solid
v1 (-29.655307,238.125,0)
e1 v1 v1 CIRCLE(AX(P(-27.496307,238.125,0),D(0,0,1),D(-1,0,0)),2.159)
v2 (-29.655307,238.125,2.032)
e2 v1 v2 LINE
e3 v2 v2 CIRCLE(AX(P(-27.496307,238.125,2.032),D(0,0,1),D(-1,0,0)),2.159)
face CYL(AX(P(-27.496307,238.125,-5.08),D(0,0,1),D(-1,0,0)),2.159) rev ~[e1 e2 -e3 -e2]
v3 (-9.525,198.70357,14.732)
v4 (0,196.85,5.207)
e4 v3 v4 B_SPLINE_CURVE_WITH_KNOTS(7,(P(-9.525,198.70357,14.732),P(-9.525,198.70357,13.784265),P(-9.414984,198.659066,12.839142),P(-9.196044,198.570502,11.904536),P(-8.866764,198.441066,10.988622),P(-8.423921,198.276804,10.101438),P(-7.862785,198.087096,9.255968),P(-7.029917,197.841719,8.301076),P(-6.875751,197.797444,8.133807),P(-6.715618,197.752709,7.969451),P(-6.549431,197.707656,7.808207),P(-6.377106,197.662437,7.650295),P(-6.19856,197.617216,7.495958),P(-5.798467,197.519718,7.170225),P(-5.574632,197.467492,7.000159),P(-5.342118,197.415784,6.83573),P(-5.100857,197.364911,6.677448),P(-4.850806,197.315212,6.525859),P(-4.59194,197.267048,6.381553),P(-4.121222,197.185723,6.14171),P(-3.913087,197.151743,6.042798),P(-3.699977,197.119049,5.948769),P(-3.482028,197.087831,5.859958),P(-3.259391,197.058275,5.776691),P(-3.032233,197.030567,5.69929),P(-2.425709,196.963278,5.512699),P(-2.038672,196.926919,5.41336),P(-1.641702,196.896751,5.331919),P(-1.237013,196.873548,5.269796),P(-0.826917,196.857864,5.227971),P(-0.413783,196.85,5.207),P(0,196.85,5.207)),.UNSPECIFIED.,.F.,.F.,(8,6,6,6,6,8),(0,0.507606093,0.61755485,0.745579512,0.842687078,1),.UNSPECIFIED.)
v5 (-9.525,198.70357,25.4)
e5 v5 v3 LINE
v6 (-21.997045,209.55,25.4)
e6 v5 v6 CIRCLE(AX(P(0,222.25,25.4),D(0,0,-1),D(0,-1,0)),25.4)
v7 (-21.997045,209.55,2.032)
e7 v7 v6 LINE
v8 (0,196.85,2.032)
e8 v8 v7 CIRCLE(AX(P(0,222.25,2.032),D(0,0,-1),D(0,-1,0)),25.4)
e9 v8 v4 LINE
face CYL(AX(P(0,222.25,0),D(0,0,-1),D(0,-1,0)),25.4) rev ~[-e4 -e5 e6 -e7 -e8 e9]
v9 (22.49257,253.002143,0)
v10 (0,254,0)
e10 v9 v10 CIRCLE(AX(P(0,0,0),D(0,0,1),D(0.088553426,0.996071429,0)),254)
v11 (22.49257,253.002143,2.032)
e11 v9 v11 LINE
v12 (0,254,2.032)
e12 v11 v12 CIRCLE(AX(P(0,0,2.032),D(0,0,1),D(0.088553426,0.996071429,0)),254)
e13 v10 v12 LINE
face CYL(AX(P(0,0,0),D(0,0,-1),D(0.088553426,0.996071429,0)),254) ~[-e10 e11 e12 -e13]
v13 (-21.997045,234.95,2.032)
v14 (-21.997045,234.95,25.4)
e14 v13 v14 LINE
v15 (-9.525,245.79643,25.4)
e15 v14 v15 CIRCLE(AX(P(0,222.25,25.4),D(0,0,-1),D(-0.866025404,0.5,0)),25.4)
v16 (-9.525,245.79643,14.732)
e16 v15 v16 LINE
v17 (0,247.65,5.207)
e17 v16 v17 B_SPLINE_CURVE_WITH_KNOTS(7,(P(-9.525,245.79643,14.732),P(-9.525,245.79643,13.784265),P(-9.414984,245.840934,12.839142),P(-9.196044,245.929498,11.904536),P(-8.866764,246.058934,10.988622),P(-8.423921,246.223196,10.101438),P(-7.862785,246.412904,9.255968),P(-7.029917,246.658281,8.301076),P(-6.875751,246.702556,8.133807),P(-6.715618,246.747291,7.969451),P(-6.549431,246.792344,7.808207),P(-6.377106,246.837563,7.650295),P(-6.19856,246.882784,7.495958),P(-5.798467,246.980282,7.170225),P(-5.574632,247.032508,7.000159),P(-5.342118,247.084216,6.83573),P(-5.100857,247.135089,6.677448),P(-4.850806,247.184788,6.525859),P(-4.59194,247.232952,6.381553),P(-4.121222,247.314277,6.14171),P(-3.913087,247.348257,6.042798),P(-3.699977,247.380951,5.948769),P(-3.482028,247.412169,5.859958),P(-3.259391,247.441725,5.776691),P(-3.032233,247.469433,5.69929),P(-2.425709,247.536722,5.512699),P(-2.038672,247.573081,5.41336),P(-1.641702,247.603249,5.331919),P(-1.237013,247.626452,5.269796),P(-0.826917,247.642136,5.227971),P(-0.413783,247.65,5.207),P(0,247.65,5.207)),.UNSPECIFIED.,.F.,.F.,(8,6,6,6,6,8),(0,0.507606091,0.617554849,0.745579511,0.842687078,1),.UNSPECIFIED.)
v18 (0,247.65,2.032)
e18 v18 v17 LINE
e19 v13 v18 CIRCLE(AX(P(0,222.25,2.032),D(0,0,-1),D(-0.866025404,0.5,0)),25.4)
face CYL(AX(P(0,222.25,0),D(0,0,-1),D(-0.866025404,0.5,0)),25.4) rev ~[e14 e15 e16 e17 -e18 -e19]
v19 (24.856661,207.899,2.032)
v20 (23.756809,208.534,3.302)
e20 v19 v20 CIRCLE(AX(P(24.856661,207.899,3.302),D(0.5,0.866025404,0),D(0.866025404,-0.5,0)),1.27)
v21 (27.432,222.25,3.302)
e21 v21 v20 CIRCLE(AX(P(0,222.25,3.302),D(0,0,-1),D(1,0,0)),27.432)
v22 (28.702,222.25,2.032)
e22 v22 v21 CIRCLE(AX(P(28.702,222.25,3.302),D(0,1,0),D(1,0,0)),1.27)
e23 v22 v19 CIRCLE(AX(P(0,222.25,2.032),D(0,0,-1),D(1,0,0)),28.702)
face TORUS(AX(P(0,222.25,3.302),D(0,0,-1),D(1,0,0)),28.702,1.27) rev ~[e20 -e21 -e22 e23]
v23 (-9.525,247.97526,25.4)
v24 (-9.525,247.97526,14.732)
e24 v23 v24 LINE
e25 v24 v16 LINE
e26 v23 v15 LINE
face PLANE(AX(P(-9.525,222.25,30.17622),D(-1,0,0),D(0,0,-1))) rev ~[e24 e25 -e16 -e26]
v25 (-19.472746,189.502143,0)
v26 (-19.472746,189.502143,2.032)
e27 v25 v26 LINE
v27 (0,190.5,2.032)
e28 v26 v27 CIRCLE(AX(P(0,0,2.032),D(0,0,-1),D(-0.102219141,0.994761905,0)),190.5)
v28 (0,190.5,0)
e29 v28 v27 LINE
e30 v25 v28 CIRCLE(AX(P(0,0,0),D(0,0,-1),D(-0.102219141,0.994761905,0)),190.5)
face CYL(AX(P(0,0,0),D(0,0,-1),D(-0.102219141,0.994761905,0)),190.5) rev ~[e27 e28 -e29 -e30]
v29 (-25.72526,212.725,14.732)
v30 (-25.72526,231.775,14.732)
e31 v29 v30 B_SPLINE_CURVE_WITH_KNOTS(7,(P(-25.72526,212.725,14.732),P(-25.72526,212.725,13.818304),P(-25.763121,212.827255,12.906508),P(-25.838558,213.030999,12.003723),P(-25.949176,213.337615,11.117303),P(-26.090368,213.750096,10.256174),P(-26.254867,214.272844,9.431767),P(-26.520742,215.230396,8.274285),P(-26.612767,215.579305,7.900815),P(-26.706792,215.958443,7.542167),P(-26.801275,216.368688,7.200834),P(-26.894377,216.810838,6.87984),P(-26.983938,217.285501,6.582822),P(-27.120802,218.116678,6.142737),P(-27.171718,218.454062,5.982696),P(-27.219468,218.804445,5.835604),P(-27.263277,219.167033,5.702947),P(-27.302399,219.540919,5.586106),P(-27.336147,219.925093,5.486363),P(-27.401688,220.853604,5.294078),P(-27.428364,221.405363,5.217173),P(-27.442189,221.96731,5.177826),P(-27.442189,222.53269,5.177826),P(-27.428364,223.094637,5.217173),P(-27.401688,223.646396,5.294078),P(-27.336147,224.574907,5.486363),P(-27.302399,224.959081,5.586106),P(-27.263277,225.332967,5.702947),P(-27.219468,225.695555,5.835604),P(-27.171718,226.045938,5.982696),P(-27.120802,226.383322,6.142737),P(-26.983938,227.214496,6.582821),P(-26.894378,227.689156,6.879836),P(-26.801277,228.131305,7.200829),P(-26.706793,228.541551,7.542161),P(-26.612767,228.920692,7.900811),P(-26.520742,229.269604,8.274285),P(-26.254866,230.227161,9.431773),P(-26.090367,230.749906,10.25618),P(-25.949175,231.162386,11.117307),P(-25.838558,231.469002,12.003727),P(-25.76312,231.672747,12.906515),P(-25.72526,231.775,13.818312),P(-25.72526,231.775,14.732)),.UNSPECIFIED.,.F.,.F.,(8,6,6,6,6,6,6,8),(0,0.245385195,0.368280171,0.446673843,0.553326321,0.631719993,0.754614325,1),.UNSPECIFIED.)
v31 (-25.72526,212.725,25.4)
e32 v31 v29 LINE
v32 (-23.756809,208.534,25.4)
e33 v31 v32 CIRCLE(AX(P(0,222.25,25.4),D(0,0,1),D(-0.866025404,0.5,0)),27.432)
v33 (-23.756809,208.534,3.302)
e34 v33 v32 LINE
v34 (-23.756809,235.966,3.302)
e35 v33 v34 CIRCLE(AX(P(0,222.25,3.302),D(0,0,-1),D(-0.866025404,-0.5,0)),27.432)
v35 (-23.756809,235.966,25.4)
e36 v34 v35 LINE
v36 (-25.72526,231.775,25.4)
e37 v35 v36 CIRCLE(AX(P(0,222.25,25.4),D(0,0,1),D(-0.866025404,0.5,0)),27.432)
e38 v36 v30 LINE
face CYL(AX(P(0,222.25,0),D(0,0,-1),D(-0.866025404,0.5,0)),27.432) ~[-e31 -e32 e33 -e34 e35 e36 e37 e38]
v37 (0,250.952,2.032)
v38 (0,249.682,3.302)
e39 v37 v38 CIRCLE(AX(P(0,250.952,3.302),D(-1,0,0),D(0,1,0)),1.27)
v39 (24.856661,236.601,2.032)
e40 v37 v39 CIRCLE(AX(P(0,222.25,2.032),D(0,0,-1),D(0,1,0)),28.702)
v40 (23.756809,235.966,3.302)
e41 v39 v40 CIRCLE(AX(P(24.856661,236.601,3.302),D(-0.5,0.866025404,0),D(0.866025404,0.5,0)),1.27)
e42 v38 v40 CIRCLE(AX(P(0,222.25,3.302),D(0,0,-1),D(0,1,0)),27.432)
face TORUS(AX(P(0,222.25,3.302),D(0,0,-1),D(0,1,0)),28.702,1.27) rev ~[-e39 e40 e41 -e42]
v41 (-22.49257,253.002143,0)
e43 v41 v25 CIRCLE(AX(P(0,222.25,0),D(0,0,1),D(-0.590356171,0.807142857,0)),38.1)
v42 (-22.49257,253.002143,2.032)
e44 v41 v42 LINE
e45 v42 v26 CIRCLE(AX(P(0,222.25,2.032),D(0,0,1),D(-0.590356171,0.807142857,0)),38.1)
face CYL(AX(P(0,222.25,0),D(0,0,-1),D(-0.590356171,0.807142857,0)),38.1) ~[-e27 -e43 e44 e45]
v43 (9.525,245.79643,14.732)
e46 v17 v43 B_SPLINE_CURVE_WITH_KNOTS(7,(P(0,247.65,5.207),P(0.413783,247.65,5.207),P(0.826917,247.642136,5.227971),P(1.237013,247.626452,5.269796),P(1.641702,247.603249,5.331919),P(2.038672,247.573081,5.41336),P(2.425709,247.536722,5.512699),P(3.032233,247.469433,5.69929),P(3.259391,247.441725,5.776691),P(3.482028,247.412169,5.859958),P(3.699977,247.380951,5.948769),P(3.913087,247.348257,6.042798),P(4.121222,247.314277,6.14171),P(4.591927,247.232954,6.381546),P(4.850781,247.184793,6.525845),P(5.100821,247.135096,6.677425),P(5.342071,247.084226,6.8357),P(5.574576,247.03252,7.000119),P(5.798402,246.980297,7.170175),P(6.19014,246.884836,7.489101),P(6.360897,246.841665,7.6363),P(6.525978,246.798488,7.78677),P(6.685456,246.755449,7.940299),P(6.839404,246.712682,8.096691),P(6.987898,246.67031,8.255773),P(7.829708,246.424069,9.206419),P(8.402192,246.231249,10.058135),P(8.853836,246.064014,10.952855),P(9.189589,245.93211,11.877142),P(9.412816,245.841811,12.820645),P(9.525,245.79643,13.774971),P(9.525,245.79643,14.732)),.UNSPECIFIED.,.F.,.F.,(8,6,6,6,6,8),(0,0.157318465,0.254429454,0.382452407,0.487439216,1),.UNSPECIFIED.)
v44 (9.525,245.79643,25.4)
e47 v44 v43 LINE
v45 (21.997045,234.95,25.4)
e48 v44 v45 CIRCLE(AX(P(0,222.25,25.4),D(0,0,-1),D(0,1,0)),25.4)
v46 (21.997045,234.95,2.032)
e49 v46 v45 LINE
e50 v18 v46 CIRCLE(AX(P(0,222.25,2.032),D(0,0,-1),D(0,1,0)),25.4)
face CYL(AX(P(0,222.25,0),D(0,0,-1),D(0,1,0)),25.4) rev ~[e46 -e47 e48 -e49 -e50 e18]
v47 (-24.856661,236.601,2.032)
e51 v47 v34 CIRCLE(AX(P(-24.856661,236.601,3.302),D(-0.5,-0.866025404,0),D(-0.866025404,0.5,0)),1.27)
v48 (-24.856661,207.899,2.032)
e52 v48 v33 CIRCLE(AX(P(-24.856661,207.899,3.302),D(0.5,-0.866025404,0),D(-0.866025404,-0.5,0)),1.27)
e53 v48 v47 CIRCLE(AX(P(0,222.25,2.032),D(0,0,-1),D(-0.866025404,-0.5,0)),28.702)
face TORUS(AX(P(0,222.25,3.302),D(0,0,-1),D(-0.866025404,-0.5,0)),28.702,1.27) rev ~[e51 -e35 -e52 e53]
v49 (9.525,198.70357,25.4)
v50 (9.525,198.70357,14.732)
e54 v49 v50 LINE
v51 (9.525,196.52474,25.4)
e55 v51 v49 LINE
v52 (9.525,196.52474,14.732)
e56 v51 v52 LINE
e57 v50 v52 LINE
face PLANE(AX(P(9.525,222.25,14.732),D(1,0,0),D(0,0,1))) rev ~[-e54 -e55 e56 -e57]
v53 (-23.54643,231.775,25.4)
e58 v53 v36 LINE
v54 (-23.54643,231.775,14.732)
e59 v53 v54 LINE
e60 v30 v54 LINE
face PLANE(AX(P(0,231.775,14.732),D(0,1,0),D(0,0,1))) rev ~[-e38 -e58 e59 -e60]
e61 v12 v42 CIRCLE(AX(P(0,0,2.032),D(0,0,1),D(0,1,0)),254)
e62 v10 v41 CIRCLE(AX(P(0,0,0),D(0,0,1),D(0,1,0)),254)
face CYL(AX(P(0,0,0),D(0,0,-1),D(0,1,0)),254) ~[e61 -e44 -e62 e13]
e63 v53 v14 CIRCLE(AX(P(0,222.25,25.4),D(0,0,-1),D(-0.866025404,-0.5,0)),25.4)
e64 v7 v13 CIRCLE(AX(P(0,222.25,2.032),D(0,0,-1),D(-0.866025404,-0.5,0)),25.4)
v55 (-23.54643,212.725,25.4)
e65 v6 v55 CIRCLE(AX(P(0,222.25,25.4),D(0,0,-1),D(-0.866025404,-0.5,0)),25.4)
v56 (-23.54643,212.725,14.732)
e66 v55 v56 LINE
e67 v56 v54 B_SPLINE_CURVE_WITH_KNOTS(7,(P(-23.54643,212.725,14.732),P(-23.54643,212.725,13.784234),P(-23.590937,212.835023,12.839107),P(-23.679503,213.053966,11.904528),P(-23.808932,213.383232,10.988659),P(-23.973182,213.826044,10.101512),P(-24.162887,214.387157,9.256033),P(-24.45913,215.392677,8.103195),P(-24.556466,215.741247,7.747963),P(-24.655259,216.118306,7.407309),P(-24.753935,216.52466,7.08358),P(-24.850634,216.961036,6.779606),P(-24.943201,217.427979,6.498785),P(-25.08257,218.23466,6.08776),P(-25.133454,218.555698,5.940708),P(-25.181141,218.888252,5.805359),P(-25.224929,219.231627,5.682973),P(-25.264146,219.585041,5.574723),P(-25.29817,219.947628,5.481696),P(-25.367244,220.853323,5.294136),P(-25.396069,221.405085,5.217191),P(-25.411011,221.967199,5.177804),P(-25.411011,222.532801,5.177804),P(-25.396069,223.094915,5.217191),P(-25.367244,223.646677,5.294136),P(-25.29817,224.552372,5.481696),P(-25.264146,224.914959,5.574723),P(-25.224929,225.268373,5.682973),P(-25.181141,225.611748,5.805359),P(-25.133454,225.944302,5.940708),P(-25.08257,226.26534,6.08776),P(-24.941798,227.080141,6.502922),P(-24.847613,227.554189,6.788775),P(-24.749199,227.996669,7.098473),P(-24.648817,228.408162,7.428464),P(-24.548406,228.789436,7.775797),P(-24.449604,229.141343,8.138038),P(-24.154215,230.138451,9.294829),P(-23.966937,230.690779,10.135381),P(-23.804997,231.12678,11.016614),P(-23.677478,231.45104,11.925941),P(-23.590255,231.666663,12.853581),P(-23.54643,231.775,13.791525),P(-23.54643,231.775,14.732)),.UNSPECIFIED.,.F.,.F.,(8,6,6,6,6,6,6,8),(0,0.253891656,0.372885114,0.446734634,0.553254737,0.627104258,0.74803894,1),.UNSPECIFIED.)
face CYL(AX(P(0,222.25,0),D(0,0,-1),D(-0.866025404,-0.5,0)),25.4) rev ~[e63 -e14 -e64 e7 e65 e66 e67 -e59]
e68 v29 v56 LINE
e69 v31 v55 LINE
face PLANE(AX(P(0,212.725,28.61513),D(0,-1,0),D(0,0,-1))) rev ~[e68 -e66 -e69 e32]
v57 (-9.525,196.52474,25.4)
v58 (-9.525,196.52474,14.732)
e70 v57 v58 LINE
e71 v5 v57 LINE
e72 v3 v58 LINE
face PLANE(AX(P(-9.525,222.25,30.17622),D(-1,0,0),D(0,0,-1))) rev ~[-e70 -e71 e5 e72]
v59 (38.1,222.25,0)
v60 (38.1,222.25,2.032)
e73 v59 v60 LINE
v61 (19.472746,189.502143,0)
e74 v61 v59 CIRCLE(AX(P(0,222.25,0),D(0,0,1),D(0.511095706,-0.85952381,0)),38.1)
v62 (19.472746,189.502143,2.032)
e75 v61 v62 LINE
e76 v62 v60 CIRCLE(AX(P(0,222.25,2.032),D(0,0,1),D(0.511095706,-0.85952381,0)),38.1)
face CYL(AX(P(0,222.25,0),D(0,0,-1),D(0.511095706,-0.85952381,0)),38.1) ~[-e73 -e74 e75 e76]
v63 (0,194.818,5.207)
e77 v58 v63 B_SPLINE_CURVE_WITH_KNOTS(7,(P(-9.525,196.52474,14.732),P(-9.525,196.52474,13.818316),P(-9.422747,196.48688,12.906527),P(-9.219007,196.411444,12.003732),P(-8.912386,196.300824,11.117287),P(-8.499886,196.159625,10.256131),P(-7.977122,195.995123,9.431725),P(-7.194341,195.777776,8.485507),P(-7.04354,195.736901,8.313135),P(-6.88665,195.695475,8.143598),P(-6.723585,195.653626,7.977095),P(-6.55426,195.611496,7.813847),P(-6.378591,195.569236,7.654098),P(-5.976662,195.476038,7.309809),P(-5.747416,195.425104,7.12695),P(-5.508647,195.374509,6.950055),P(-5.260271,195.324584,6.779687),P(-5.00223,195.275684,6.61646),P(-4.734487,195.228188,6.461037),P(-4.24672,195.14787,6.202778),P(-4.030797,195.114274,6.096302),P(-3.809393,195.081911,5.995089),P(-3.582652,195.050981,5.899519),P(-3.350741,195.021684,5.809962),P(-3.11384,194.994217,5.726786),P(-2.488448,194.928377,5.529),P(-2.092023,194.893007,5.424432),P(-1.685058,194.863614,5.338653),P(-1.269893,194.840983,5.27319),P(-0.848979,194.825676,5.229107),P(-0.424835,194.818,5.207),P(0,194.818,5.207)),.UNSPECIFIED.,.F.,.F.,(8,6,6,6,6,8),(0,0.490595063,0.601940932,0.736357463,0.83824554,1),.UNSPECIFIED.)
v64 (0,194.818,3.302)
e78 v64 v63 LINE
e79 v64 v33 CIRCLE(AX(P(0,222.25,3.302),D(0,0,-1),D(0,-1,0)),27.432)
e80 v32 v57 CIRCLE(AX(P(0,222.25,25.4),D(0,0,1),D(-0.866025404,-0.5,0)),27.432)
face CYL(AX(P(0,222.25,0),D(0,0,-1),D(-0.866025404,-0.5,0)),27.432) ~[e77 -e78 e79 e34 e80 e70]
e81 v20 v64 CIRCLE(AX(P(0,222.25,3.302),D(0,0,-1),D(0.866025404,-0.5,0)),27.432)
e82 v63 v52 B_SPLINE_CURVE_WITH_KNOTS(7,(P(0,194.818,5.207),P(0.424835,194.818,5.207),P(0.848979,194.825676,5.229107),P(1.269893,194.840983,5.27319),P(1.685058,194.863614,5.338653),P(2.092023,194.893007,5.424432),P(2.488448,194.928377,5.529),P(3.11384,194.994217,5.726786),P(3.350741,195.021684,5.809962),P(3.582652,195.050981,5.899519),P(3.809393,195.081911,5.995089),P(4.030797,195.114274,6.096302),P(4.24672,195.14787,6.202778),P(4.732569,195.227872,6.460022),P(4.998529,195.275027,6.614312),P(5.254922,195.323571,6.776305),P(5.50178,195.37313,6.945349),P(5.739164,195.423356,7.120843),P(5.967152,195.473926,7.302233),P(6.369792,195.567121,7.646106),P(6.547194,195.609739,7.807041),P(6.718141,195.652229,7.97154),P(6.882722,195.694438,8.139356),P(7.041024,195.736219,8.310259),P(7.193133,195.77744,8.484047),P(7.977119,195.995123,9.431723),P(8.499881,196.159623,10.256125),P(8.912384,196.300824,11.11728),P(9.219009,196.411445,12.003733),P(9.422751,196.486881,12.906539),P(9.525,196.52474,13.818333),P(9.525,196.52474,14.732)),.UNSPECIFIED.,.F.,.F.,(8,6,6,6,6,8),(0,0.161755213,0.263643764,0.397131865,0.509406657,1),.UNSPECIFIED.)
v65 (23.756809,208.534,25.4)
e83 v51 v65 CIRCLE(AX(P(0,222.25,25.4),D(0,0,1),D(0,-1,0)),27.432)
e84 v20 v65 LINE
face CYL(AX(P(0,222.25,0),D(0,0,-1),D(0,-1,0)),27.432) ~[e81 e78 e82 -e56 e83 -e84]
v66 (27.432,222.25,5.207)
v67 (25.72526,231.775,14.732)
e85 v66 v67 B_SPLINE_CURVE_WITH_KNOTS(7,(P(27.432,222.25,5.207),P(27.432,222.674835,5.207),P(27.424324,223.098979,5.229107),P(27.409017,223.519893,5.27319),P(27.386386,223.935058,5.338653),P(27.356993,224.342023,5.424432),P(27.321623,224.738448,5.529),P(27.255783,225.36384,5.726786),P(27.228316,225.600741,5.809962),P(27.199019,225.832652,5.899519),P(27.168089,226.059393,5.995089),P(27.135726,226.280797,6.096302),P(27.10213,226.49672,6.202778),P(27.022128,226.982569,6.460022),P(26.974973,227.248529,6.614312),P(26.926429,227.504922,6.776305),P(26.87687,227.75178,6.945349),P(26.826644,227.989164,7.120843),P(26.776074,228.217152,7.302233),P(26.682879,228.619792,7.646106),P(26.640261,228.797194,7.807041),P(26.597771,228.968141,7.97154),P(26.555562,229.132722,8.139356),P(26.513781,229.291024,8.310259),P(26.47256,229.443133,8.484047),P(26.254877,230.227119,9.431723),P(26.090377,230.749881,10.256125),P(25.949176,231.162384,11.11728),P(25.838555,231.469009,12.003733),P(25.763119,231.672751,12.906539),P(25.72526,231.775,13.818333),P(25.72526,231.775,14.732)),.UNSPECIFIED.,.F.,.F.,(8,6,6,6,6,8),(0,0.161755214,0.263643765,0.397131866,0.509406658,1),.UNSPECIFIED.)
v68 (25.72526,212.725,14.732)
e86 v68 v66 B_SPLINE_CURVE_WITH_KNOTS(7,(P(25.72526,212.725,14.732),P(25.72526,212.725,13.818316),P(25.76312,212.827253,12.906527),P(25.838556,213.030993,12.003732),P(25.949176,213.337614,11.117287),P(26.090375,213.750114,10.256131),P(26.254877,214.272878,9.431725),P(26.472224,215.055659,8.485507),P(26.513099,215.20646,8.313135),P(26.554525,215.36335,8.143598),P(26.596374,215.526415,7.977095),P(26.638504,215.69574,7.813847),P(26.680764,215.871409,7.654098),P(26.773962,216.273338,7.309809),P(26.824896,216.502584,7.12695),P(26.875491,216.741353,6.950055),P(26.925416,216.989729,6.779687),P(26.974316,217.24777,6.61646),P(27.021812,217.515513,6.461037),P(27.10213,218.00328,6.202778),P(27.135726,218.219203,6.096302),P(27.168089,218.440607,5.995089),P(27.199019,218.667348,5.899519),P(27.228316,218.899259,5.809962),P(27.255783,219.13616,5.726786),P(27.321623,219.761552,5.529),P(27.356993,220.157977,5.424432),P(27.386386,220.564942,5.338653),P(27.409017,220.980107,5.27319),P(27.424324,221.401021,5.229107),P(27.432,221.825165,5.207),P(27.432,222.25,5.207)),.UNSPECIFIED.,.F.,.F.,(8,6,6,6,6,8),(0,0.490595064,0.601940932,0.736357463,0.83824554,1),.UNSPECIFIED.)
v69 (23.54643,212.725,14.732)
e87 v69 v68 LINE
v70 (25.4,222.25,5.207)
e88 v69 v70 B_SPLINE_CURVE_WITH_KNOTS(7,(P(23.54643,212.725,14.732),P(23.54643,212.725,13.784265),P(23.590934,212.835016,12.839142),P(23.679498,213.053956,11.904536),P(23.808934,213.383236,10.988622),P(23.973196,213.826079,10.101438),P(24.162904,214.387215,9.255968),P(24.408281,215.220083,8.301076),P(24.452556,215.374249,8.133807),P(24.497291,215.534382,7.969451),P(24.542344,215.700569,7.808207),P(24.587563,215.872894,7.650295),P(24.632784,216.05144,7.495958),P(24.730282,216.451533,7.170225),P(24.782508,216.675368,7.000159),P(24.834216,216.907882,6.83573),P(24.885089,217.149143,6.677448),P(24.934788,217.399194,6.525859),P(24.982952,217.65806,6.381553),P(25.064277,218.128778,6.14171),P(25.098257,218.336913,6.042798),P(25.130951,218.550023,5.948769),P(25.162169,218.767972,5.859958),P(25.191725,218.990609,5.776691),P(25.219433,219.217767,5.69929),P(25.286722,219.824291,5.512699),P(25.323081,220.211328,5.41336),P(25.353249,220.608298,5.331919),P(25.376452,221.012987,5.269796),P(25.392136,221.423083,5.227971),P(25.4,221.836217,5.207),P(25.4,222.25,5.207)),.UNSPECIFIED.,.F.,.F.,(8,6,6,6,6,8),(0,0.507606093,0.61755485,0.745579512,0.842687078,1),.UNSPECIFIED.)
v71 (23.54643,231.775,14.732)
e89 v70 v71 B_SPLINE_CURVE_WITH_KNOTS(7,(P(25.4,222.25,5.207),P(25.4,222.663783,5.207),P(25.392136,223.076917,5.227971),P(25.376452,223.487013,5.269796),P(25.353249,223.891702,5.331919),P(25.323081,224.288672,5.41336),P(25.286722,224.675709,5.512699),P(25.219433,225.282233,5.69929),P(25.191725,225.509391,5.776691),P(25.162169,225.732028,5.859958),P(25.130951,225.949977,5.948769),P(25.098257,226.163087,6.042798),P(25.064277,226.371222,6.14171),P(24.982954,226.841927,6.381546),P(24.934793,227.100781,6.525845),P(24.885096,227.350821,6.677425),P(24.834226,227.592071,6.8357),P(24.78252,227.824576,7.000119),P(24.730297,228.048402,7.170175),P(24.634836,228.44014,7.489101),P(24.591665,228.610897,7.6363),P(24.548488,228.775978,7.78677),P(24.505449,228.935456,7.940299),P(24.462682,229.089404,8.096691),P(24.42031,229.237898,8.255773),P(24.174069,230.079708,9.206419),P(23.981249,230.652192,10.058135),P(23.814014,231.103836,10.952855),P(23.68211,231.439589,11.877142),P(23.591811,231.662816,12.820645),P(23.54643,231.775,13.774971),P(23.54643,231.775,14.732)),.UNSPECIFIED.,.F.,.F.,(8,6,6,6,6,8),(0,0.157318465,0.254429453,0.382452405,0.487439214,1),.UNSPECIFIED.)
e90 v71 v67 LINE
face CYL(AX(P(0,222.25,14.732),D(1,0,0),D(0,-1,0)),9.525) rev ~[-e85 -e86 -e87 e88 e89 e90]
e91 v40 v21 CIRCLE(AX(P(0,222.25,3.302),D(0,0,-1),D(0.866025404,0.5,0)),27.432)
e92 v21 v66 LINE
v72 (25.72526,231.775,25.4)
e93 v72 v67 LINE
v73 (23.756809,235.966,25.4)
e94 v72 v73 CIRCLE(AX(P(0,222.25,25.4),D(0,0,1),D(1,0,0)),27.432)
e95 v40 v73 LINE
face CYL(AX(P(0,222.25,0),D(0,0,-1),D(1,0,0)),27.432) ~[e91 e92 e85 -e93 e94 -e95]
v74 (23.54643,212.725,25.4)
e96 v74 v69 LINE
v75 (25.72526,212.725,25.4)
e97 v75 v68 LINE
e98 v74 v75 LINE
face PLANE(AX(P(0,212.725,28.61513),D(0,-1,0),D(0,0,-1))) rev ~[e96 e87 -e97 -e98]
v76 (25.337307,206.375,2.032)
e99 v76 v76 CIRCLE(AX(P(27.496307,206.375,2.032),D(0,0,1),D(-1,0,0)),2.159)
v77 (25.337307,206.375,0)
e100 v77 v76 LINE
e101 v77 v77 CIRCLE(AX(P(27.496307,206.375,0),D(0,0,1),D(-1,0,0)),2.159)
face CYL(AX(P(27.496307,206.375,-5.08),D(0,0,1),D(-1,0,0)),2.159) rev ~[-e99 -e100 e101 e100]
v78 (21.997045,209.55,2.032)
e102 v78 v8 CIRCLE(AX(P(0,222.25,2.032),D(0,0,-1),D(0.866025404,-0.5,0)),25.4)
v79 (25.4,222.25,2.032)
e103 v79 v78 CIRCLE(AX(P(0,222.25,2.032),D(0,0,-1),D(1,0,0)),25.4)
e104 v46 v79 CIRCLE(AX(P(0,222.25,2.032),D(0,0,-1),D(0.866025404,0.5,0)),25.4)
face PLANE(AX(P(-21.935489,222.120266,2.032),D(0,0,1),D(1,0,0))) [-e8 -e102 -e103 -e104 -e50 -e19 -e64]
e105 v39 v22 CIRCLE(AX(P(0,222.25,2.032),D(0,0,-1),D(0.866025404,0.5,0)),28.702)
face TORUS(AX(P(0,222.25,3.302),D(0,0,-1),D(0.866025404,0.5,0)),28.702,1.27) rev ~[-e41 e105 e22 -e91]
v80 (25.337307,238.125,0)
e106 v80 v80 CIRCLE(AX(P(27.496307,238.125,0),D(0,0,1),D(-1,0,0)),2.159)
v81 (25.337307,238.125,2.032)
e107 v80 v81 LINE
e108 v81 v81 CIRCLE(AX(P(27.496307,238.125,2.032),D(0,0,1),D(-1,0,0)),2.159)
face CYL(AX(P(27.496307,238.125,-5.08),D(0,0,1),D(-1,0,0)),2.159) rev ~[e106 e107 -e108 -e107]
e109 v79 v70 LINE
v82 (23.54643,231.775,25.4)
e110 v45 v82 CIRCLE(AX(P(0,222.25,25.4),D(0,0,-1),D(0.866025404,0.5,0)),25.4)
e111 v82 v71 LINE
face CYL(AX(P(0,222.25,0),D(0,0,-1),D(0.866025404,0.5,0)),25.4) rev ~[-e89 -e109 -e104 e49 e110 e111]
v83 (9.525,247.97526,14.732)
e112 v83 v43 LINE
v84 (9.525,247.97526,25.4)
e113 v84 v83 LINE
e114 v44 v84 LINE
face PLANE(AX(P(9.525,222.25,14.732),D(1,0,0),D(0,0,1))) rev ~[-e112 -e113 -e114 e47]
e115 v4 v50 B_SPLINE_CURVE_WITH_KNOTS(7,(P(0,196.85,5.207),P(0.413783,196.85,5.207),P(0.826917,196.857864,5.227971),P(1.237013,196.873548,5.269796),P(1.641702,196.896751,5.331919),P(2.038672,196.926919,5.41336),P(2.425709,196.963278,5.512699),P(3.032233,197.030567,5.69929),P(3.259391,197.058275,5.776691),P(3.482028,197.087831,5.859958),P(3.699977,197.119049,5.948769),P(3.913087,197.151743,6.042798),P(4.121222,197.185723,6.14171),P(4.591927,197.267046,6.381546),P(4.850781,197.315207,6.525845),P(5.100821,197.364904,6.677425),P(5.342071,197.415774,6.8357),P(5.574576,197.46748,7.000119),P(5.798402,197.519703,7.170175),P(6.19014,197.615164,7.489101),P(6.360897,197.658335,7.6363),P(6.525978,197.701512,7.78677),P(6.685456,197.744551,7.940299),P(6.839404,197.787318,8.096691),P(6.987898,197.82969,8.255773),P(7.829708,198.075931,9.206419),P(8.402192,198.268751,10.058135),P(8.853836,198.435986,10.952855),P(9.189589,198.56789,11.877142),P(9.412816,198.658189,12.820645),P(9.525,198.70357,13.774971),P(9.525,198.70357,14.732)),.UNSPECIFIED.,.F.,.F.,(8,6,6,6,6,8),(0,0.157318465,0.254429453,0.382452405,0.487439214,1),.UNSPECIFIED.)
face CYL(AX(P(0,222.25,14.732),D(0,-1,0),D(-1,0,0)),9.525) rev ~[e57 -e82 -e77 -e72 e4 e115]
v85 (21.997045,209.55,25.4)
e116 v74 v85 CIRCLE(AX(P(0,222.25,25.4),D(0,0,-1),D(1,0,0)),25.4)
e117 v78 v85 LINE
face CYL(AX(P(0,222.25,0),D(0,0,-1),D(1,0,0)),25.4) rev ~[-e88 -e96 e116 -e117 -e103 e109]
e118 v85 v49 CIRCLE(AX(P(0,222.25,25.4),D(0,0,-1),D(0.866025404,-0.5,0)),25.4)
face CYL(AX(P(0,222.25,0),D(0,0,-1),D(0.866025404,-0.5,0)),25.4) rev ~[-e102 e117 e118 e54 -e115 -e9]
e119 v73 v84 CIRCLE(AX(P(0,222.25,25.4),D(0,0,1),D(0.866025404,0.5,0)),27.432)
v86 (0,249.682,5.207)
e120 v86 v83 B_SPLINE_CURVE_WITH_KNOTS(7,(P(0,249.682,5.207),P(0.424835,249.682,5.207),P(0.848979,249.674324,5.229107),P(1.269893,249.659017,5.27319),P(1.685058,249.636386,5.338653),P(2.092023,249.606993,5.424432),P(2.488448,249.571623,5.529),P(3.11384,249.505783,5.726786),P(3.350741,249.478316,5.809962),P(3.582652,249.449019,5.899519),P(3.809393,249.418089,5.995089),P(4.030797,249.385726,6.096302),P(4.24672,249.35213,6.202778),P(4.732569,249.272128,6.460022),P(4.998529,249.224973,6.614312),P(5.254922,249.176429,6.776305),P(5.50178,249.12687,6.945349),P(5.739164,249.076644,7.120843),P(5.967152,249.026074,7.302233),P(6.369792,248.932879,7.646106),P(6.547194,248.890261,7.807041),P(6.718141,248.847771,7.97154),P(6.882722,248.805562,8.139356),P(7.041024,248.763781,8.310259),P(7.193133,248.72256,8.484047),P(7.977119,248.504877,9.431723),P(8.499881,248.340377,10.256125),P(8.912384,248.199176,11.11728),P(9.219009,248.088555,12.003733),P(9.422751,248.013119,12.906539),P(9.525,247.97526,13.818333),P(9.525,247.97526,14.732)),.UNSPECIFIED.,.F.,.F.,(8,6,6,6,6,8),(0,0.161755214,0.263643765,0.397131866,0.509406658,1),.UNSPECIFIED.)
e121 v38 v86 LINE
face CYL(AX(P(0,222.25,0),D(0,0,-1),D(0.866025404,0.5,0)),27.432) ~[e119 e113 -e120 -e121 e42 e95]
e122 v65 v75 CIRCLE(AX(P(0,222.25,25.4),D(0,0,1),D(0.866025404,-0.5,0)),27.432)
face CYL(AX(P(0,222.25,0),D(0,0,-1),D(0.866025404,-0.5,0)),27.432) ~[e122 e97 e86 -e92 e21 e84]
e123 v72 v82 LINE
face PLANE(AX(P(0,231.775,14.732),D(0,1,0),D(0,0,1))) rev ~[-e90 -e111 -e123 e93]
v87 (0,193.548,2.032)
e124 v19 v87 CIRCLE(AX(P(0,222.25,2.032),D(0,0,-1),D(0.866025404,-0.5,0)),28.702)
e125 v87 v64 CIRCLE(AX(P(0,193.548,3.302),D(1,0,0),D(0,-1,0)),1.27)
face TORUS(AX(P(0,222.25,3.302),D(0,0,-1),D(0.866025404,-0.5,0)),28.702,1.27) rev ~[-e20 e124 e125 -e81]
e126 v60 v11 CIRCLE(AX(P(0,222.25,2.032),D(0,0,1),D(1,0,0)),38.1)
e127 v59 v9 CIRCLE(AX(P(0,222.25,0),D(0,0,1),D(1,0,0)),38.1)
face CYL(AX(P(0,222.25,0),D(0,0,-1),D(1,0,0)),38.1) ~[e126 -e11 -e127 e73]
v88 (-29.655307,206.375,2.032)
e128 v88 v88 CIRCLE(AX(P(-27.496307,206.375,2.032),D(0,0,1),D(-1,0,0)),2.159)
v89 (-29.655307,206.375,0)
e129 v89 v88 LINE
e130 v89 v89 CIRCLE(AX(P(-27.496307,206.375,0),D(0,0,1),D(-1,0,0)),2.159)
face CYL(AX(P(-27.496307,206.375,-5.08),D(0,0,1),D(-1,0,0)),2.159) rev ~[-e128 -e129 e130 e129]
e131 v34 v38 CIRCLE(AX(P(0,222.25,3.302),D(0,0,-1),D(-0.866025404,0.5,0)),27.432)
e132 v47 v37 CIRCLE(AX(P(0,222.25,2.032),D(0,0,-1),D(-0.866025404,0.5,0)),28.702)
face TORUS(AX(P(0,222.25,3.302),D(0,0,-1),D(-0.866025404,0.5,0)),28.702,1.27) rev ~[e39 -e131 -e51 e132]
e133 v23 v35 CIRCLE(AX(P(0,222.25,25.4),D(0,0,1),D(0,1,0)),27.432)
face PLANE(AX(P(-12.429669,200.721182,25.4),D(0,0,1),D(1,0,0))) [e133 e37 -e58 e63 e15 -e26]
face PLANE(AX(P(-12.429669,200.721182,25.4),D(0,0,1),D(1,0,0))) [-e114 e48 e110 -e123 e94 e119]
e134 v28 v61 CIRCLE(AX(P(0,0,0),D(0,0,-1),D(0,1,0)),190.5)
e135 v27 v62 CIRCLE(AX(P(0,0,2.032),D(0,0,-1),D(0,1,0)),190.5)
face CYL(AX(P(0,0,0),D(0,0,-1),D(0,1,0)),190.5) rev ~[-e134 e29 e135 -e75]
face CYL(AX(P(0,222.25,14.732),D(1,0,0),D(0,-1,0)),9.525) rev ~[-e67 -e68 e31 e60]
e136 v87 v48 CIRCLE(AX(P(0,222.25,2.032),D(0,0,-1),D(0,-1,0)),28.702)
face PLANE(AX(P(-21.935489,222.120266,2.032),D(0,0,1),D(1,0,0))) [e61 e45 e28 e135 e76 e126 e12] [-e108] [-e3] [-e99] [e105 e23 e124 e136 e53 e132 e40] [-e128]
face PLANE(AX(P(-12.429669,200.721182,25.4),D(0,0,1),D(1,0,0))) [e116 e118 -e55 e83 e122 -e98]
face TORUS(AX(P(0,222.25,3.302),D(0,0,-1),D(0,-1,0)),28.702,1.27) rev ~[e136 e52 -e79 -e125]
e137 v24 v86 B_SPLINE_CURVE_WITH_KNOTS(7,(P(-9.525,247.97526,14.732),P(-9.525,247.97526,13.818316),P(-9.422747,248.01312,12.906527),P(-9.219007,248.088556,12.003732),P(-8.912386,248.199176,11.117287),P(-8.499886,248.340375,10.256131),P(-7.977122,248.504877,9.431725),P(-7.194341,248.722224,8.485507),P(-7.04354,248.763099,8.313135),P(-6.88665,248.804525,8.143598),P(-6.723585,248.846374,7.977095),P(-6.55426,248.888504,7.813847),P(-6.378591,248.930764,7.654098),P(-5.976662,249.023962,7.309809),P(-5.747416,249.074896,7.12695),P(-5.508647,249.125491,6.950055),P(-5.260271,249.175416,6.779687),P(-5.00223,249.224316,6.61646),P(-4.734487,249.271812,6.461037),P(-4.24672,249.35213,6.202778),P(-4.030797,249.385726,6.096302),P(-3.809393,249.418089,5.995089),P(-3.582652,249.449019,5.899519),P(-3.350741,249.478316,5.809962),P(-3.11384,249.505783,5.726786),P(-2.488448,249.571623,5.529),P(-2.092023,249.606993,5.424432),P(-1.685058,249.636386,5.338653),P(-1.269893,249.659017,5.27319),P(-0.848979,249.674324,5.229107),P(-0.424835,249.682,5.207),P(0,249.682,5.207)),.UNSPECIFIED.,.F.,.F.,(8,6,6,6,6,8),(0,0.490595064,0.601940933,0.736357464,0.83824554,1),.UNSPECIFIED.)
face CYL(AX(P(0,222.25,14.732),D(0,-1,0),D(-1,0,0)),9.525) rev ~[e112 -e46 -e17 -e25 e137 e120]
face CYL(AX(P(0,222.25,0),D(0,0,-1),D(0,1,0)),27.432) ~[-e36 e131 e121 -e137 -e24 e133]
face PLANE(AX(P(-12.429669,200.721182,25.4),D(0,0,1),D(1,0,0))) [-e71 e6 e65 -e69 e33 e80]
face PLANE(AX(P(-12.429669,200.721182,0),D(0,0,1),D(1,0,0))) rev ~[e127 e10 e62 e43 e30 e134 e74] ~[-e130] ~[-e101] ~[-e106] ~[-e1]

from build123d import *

# Parameters (mm, degrees)
F1_DEPTH  = 2.032
F2_DEPTH  = 25.4
F3_D      = 4.318
F3_DEPTH  = 5.08
F3_TIP    = 1.2972580765
F6_DEPTH  = 63.5
F10_DEPTH = 63.5
F11_R     = 1.27


with BuildPart() as f1:
    # F0 (on Top) → F1 (new body)
    with BuildSketch(Plane.XY):
        with BuildLine():
            ThreePointArc((-19.4727464049, 189.5021428571), (-9.7491483145, 190.2503721603), (0, 190.5))
            ThreePointArc((0, 190.5), (-15.875, 194.7536934298), (-27.4963065702, 206.375))
            ThreePointArc((-27.4963065702, 206.375), (-31.75, 222.25), (-27.4963065702, 238.125))
            ThreePointArc((-27.4963065702, 238.125), (-15.875, 249.7463065702), (0, 254))
            ThreePointArc((0, 254), (-11.2573468074, 253.750413089), (-22.4925700998, 253.0021428571))
            ThreePointArc((-22.4925700998, 253.0021428571), (-38.0569894676, 220.440151204), (-19.4727464049, 189.5021428571))
        make_face()
        with BuildLine():
            Line((0, 249.682), (0, 254))
            ThreePointArc((0, 254), (-15.875, 249.7463065702), (-27.4963065702, 238.125))
            Line((-27.4963065702, 238.125), (-23.7568088766, 235.966))
            ThreePointArc((-23.7568088766, 235.966), (-13.716, 246.0068088766), (0, 249.682))
        make_face()
        with BuildLine():
            ThreePointArc((-27.4963065702, 238.125), (-31.75, 222.25), (-27.4963065702, 206.375))
            Line((-27.4963065702, 206.375), (-23.7568088766, 208.534))
            ThreePointArc((-23.7568088766, 208.534), (-27.432, 222.25), (-23.7568088766, 235.966))
            Line((-23.7568088766, 235.966), (-27.4963065702, 238.125))
        make_face()
        with BuildLine():
            ThreePointArc((-23.7568088766, 235.966), (-27.432, 222.25), (-23.7568088766, 208.534))
            Line((-23.7568088766, 208.534), (-21.9970452561, 209.55))
            ThreePointArc((-21.9970452561, 209.55), (-25.4, 222.25), (-21.9970452561, 234.95))
            Line((-21.9970452561, 234.95), (-23.7568088766, 235.966))
        make_face()
        with BuildLine():
            ThreePointArc((-27.4963065702, 206.375), (-15.875, 194.7536934298), (0, 190.5))
            Line((0, 190.5), (0, 194.818))
            ThreePointArc((0, 194.818), (-13.716, 198.4931911234), (-23.7568088766, 208.534))
            Line((-23.7568088766, 208.534), (-27.4963065702, 206.375))
        make_face()
        with BuildLine():
            ThreePointArc((-23.7568088766, 208.534), (-13.716, 198.4931911234), (0, 194.818))
            Line((0, 194.818), (0, 196.85))
            ThreePointArc((0, 196.85), (-12.7, 200.2529547439), (-21.9970452561, 209.55))
            Line((-21.9970452561, 209.55), (-23.7568088766, 208.534))
        make_face()
        with BuildLine():
            ThreePointArc((-21.9970452561, 209.55), (-12.7, 200.2529547439), (0, 196.85))
            Line((0, 196.85), (0, 222.25))
            Line((0, 222.25), (-21.9970452561, 209.55))
        make_face()
        with BuildLine():
            Line((-21.9970452561, 209.55), (0, 222.25))
            Line((0, 222.25), (-21.9970452561, 234.95))
            ThreePointArc((-21.9970452561, 234.95), (-25.4, 222.25), (-21.9970452561, 209.55))
        make_face()
        with BuildLine():
            Line((-21.9970452561, 234.95), (0, 222.25))
            Line((0, 222.25), (0, 247.65))
            ThreePointArc((0, 247.65), (-12.7, 244.2470452561), (-21.9970452561, 234.95))
        make_face()
        with BuildLine():
            Line((0, 247.65), (0, 249.682))
            ThreePointArc((0, 249.682), (-13.716, 246.0068088766), (-23.7568088766, 235.966))
            Line((-23.7568088766, 235.966), (-21.9970452561, 234.95))
            ThreePointArc((-21.9970452561, 234.95), (-12.7, 244.2470452561), (0, 247.65))
        make_face()
        with BuildLine():
            ThreePointArc((27.4963065702, 238.125), (15.875, 249.7463065702), (0, 254))
            Line((0, 254), (0, 249.682))
            ThreePointArc((0, 249.682), (13.716, 246.0068088766), (23.7568088766, 235.966))
            Line((23.7568088766, 235.966), (27.4963065702, 238.125))
        make_face()
        with BuildLine():
            ThreePointArc((23.7568088766, 235.966), (13.716, 246.0068088766), (0, 249.682))
            Line((0, 249.682), (0, 247.65))
            ThreePointArc((0, 247.65), (12.7, 244.2470452561), (21.9970452561, 234.95))
            Line((21.9970452561, 234.95), (23.7568088766, 235.966))
        make_face()
        with BuildLine():
            Line((0, 247.65), (0, 222.25))
            Line((0, 222.25), (21.9970452561, 234.95))
            ThreePointArc((21.9970452561, 234.95), (12.7, 244.2470452561), (0, 247.65))
        make_face()
        with BuildLine():
            ThreePointArc((0, 190.5), (9.7491483145, 190.2503721603), (19.4727464049, 189.5021428571))
            ThreePointArc((19.4727464049, 189.5021428571), (33.1173794104, 203.4125590648), (38.1, 222.25))
            ThreePointArc((38.1, 222.25), (33.9748209767, 239.493014226), (22.4925700998, 253.0021428571))
            ThreePointArc((22.4925700998, 253.0021428571), (11.2573468074, 253.750413089), (0, 254))
            ThreePointArc((0, 254), (15.875, 249.7463065702), (27.4963065702, 238.125))
            ThreePointArc((27.4963065702, 238.125), (30.6681449847, 230.467504682), (31.75, 222.25))
            ThreePointArc((31.75, 222.25), (30.6681449847, 214.032495318), (27.4963065702, 206.375))
            ThreePointArc((27.4963065702, 206.375), (15.875, 194.7536934298), (0, 190.5))
        make_face()
        with BuildLine():
            Line((23.7568088766, 208.534), (27.4963065702, 206.375))
            ThreePointArc((27.4963065702, 206.375), (30.6681449847, 214.032495318), (31.75, 222.25))
            ThreePointArc((31.75, 222.25), (30.6681449847, 230.467504682), (27.4963065702, 238.125))
            Line((27.4963065702, 238.125), (23.7568088766, 235.966))
            ThreePointArc((23.7568088766, 235.966), (26.4972772668, 229.3499240453), (27.432, 222.25))
            ThreePointArc((27.432, 222.25), (26.4972772668, 215.1500759547), (23.7568088766, 208.534))
        make_face()
        with BuildLine():
            Line((21.9970452561, 209.55), (23.7568088766, 208.534))
            ThreePointArc((23.7568088766, 208.534), (26.4972772668, 215.1500759547), (27.432, 222.25))
            ThreePointArc((27.432, 222.25), (26.4972772668, 229.3499240453), (23.7568088766, 235.966))
            Line((23.7568088766, 235.966), (21.9970452561, 234.95))
            ThreePointArc((21.9970452561, 234.95), (24.5345159877, 228.8240037456), (25.4, 222.25))
            ThreePointArc((25.4, 222.25), (24.5345159877, 215.6759962544), (21.9970452561, 209.55))
        make_face()
        with BuildLine():
            Line((21.9970452561, 234.95), (0, 222.25))
            Line((0, 222.25), (21.9970452561, 209.55))
            ThreePointArc((21.9970452561, 209.55), (24.5345159877, 215.6759962544), (25.4, 222.25))
            ThreePointArc((25.4, 222.25), (24.5345159877, 228.8240037456), (21.9970452561, 234.95))
        make_face()
        with BuildLine():
            Line((0, 222.25), (0, 196.85))
            ThreePointArc((0, 196.85), (12.7, 200.2529547439), (21.9970452561, 209.55))
            Line((21.9970452561, 209.55), (0, 222.25))
        make_face()
        with BuildLine():
            Line((0, 196.85), (0, 194.818))
            ThreePointArc((0, 194.818), (13.716, 198.4931911234), (23.7568088766, 208.534))
            Line((23.7568088766, 208.534), (21.9970452561, 209.55))
            ThreePointArc((21.9970452561, 209.55), (12.7, 200.2529547439), (0, 196.85))
        make_face()
        with BuildLine():
            Line((0, 194.818), (0, 190.5))
            ThreePointArc((0, 190.5), (15.875, 194.7536934298), (27.4963065702, 206.375))
            Line((27.4963065702, 206.375), (23.7568088766, 208.534))
            ThreePointArc((23.7568088766, 208.534), (13.716, 198.4931911234), (0, 194.818))
        make_face()
    extrude(amount=F1_DEPTH)

    # F0 (on Top) → F2 (join)
    with BuildSketch(Plane.XY):
        with BuildLine():
            ThreePointArc((-23.7568088766, 208.534), (-13.716, 198.4931911234), (0, 194.818))
            Line((0, 194.818), (0, 196.85))
            ThreePointArc((0, 196.85), (-12.7, 200.2529547439), (-21.9970452561, 209.55))
            Line((-21.9970452561, 209.55), (-23.7568088766, 208.534))
        make_face()
        with BuildLine():
            ThreePointArc((-23.7568088766, 235.966), (-27.432, 222.25), (-23.7568088766, 208.534))
            Line((-23.7568088766, 208.534), (-21.9970452561, 209.55))
            ThreePointArc((-21.9970452561, 209.55), (-25.4, 222.25), (-21.9970452561, 234.95))
            Line((-21.9970452561, 234.95), (-23.7568088766, 235.966))
        make_face()
        with BuildLine():
            Line((0, 247.65), (0, 249.682))
            ThreePointArc((0, 249.682), (-13.716, 246.0068088766), (-23.7568088766, 235.966))
            Line((-23.7568088766, 235.966), (-21.9970452561, 234.95))
            ThreePointArc((-21.9970452561, 234.95), (-12.7, 244.2470452561), (0, 247.65))
        make_face()
        with BuildLine():
            ThreePointArc((23.7568088766, 235.966), (13.716, 246.0068088766), (0, 249.682))
            Line((0, 249.682), (0, 247.65))
            ThreePointArc((0, 247.65), (12.7, 244.2470452561), (21.9970452561, 234.95))
            Line((21.9970452561, 234.95), (23.7568088766, 235.966))
        make_face()
        with BuildLine():
            Line((21.9970452561, 209.55), (23.7568088766, 208.534))
            ThreePointArc((23.7568088766, 208.534), (26.4972772668, 215.1500759547), (27.432, 222.25))
            ThreePointArc((27.432, 222.25), (26.4972772668, 229.3499240453), (23.7568088766, 235.966))
            Line((23.7568088766, 235.966), (21.9970452561, 234.95))
            ThreePointArc((21.9970452561, 234.95), (24.5345159877, 228.8240037456), (25.4, 222.25))
            ThreePointArc((25.4, 222.25), (24.5345159877, 215.6759962544), (21.9970452561, 209.55))
        make_face()
        with BuildLine():
            Line((0, 196.85), (0, 194.818))
            ThreePointArc((0, 194.818), (13.716, 198.4931911234), (23.7568088766, 208.534))
            Line((23.7568088766, 208.534), (21.9970452561, 209.55))
            ThreePointArc((21.9970452561, 209.55), (12.7, 200.2529547439), (0, 196.85))
        make_face()
    extrude(amount=F2_DEPTH)

    # F3
    with Locations(Plane(origin=(0, 0, 0), x_dir=(1, 0, 0), z_dir=(0, 0, -1))):
        with Locations((-27.4963065702, -206.375), (-27.4963065702, -238.125), (27.4963065702, -238.125), (27.4963065702, -206.375)):
            Hole(F3_D / 2, depth=F3_DEPTH)
            with Locations((0, 0, -(F3_DEPTH + F3_TIP / 2))):  # 118° drill point
                Cone(0, F3_D / 2, F3_TIP, mode=Mode.SUBTRACT)

    # F5 (on line) → F6 (cut, symmetric)
    with BuildSketch(Plane.YZ):
        with BuildLine():
            Line((212.725, 28.6151301116), (212.725, 14.732))
            ThreePointArc((212.725, 14.732), (215.5148079092, 7.9968079092), (222.25, 5.207))
            ThreePointArc((222.25, 5.207), (228.9851920908, 7.9968079092), (231.775, 14.732))
            Line((231.775, 14.732), (231.775, 28.6151301116))
            Line((231.775, 28.6151301116), (212.725, 28.6151301116))
        make_face()
    extrude(amount=F6_DEPTH, both=True, mode=Mode.SUBTRACT)

    # F9 (on line) → F10 (cut, symmetric)
    with BuildSketch(Plane.XZ.offset(-222.25)):
        with BuildLine():
            Line((-9.525, 30.1762204617), (-9.525, 14.732))
            ThreePointArc((-9.525, 14.732), (-6.7351920908, 7.9968079092), (0, 5.207))
            ThreePointArc((0, 5.207), (6.7351920908, 7.9968079092), (9.525, 14.732))
            Line((9.525, 14.732), (9.525, 30.1762204617))
            Line((9.525, 30.1762204617), (-9.525, 30.1762204617))
        make_face()
    extrude(amount=F10_DEPTH, both=True, mode=Mode.SUBTRACT)

    # F11
    f11_edges = [f1.edges().sort_by_distance(p)[0] for p in [
        (0, 249.682, 2.032),
    ]]
    fillet(f11_edges, radius=F11_R)


solid = f1.part
